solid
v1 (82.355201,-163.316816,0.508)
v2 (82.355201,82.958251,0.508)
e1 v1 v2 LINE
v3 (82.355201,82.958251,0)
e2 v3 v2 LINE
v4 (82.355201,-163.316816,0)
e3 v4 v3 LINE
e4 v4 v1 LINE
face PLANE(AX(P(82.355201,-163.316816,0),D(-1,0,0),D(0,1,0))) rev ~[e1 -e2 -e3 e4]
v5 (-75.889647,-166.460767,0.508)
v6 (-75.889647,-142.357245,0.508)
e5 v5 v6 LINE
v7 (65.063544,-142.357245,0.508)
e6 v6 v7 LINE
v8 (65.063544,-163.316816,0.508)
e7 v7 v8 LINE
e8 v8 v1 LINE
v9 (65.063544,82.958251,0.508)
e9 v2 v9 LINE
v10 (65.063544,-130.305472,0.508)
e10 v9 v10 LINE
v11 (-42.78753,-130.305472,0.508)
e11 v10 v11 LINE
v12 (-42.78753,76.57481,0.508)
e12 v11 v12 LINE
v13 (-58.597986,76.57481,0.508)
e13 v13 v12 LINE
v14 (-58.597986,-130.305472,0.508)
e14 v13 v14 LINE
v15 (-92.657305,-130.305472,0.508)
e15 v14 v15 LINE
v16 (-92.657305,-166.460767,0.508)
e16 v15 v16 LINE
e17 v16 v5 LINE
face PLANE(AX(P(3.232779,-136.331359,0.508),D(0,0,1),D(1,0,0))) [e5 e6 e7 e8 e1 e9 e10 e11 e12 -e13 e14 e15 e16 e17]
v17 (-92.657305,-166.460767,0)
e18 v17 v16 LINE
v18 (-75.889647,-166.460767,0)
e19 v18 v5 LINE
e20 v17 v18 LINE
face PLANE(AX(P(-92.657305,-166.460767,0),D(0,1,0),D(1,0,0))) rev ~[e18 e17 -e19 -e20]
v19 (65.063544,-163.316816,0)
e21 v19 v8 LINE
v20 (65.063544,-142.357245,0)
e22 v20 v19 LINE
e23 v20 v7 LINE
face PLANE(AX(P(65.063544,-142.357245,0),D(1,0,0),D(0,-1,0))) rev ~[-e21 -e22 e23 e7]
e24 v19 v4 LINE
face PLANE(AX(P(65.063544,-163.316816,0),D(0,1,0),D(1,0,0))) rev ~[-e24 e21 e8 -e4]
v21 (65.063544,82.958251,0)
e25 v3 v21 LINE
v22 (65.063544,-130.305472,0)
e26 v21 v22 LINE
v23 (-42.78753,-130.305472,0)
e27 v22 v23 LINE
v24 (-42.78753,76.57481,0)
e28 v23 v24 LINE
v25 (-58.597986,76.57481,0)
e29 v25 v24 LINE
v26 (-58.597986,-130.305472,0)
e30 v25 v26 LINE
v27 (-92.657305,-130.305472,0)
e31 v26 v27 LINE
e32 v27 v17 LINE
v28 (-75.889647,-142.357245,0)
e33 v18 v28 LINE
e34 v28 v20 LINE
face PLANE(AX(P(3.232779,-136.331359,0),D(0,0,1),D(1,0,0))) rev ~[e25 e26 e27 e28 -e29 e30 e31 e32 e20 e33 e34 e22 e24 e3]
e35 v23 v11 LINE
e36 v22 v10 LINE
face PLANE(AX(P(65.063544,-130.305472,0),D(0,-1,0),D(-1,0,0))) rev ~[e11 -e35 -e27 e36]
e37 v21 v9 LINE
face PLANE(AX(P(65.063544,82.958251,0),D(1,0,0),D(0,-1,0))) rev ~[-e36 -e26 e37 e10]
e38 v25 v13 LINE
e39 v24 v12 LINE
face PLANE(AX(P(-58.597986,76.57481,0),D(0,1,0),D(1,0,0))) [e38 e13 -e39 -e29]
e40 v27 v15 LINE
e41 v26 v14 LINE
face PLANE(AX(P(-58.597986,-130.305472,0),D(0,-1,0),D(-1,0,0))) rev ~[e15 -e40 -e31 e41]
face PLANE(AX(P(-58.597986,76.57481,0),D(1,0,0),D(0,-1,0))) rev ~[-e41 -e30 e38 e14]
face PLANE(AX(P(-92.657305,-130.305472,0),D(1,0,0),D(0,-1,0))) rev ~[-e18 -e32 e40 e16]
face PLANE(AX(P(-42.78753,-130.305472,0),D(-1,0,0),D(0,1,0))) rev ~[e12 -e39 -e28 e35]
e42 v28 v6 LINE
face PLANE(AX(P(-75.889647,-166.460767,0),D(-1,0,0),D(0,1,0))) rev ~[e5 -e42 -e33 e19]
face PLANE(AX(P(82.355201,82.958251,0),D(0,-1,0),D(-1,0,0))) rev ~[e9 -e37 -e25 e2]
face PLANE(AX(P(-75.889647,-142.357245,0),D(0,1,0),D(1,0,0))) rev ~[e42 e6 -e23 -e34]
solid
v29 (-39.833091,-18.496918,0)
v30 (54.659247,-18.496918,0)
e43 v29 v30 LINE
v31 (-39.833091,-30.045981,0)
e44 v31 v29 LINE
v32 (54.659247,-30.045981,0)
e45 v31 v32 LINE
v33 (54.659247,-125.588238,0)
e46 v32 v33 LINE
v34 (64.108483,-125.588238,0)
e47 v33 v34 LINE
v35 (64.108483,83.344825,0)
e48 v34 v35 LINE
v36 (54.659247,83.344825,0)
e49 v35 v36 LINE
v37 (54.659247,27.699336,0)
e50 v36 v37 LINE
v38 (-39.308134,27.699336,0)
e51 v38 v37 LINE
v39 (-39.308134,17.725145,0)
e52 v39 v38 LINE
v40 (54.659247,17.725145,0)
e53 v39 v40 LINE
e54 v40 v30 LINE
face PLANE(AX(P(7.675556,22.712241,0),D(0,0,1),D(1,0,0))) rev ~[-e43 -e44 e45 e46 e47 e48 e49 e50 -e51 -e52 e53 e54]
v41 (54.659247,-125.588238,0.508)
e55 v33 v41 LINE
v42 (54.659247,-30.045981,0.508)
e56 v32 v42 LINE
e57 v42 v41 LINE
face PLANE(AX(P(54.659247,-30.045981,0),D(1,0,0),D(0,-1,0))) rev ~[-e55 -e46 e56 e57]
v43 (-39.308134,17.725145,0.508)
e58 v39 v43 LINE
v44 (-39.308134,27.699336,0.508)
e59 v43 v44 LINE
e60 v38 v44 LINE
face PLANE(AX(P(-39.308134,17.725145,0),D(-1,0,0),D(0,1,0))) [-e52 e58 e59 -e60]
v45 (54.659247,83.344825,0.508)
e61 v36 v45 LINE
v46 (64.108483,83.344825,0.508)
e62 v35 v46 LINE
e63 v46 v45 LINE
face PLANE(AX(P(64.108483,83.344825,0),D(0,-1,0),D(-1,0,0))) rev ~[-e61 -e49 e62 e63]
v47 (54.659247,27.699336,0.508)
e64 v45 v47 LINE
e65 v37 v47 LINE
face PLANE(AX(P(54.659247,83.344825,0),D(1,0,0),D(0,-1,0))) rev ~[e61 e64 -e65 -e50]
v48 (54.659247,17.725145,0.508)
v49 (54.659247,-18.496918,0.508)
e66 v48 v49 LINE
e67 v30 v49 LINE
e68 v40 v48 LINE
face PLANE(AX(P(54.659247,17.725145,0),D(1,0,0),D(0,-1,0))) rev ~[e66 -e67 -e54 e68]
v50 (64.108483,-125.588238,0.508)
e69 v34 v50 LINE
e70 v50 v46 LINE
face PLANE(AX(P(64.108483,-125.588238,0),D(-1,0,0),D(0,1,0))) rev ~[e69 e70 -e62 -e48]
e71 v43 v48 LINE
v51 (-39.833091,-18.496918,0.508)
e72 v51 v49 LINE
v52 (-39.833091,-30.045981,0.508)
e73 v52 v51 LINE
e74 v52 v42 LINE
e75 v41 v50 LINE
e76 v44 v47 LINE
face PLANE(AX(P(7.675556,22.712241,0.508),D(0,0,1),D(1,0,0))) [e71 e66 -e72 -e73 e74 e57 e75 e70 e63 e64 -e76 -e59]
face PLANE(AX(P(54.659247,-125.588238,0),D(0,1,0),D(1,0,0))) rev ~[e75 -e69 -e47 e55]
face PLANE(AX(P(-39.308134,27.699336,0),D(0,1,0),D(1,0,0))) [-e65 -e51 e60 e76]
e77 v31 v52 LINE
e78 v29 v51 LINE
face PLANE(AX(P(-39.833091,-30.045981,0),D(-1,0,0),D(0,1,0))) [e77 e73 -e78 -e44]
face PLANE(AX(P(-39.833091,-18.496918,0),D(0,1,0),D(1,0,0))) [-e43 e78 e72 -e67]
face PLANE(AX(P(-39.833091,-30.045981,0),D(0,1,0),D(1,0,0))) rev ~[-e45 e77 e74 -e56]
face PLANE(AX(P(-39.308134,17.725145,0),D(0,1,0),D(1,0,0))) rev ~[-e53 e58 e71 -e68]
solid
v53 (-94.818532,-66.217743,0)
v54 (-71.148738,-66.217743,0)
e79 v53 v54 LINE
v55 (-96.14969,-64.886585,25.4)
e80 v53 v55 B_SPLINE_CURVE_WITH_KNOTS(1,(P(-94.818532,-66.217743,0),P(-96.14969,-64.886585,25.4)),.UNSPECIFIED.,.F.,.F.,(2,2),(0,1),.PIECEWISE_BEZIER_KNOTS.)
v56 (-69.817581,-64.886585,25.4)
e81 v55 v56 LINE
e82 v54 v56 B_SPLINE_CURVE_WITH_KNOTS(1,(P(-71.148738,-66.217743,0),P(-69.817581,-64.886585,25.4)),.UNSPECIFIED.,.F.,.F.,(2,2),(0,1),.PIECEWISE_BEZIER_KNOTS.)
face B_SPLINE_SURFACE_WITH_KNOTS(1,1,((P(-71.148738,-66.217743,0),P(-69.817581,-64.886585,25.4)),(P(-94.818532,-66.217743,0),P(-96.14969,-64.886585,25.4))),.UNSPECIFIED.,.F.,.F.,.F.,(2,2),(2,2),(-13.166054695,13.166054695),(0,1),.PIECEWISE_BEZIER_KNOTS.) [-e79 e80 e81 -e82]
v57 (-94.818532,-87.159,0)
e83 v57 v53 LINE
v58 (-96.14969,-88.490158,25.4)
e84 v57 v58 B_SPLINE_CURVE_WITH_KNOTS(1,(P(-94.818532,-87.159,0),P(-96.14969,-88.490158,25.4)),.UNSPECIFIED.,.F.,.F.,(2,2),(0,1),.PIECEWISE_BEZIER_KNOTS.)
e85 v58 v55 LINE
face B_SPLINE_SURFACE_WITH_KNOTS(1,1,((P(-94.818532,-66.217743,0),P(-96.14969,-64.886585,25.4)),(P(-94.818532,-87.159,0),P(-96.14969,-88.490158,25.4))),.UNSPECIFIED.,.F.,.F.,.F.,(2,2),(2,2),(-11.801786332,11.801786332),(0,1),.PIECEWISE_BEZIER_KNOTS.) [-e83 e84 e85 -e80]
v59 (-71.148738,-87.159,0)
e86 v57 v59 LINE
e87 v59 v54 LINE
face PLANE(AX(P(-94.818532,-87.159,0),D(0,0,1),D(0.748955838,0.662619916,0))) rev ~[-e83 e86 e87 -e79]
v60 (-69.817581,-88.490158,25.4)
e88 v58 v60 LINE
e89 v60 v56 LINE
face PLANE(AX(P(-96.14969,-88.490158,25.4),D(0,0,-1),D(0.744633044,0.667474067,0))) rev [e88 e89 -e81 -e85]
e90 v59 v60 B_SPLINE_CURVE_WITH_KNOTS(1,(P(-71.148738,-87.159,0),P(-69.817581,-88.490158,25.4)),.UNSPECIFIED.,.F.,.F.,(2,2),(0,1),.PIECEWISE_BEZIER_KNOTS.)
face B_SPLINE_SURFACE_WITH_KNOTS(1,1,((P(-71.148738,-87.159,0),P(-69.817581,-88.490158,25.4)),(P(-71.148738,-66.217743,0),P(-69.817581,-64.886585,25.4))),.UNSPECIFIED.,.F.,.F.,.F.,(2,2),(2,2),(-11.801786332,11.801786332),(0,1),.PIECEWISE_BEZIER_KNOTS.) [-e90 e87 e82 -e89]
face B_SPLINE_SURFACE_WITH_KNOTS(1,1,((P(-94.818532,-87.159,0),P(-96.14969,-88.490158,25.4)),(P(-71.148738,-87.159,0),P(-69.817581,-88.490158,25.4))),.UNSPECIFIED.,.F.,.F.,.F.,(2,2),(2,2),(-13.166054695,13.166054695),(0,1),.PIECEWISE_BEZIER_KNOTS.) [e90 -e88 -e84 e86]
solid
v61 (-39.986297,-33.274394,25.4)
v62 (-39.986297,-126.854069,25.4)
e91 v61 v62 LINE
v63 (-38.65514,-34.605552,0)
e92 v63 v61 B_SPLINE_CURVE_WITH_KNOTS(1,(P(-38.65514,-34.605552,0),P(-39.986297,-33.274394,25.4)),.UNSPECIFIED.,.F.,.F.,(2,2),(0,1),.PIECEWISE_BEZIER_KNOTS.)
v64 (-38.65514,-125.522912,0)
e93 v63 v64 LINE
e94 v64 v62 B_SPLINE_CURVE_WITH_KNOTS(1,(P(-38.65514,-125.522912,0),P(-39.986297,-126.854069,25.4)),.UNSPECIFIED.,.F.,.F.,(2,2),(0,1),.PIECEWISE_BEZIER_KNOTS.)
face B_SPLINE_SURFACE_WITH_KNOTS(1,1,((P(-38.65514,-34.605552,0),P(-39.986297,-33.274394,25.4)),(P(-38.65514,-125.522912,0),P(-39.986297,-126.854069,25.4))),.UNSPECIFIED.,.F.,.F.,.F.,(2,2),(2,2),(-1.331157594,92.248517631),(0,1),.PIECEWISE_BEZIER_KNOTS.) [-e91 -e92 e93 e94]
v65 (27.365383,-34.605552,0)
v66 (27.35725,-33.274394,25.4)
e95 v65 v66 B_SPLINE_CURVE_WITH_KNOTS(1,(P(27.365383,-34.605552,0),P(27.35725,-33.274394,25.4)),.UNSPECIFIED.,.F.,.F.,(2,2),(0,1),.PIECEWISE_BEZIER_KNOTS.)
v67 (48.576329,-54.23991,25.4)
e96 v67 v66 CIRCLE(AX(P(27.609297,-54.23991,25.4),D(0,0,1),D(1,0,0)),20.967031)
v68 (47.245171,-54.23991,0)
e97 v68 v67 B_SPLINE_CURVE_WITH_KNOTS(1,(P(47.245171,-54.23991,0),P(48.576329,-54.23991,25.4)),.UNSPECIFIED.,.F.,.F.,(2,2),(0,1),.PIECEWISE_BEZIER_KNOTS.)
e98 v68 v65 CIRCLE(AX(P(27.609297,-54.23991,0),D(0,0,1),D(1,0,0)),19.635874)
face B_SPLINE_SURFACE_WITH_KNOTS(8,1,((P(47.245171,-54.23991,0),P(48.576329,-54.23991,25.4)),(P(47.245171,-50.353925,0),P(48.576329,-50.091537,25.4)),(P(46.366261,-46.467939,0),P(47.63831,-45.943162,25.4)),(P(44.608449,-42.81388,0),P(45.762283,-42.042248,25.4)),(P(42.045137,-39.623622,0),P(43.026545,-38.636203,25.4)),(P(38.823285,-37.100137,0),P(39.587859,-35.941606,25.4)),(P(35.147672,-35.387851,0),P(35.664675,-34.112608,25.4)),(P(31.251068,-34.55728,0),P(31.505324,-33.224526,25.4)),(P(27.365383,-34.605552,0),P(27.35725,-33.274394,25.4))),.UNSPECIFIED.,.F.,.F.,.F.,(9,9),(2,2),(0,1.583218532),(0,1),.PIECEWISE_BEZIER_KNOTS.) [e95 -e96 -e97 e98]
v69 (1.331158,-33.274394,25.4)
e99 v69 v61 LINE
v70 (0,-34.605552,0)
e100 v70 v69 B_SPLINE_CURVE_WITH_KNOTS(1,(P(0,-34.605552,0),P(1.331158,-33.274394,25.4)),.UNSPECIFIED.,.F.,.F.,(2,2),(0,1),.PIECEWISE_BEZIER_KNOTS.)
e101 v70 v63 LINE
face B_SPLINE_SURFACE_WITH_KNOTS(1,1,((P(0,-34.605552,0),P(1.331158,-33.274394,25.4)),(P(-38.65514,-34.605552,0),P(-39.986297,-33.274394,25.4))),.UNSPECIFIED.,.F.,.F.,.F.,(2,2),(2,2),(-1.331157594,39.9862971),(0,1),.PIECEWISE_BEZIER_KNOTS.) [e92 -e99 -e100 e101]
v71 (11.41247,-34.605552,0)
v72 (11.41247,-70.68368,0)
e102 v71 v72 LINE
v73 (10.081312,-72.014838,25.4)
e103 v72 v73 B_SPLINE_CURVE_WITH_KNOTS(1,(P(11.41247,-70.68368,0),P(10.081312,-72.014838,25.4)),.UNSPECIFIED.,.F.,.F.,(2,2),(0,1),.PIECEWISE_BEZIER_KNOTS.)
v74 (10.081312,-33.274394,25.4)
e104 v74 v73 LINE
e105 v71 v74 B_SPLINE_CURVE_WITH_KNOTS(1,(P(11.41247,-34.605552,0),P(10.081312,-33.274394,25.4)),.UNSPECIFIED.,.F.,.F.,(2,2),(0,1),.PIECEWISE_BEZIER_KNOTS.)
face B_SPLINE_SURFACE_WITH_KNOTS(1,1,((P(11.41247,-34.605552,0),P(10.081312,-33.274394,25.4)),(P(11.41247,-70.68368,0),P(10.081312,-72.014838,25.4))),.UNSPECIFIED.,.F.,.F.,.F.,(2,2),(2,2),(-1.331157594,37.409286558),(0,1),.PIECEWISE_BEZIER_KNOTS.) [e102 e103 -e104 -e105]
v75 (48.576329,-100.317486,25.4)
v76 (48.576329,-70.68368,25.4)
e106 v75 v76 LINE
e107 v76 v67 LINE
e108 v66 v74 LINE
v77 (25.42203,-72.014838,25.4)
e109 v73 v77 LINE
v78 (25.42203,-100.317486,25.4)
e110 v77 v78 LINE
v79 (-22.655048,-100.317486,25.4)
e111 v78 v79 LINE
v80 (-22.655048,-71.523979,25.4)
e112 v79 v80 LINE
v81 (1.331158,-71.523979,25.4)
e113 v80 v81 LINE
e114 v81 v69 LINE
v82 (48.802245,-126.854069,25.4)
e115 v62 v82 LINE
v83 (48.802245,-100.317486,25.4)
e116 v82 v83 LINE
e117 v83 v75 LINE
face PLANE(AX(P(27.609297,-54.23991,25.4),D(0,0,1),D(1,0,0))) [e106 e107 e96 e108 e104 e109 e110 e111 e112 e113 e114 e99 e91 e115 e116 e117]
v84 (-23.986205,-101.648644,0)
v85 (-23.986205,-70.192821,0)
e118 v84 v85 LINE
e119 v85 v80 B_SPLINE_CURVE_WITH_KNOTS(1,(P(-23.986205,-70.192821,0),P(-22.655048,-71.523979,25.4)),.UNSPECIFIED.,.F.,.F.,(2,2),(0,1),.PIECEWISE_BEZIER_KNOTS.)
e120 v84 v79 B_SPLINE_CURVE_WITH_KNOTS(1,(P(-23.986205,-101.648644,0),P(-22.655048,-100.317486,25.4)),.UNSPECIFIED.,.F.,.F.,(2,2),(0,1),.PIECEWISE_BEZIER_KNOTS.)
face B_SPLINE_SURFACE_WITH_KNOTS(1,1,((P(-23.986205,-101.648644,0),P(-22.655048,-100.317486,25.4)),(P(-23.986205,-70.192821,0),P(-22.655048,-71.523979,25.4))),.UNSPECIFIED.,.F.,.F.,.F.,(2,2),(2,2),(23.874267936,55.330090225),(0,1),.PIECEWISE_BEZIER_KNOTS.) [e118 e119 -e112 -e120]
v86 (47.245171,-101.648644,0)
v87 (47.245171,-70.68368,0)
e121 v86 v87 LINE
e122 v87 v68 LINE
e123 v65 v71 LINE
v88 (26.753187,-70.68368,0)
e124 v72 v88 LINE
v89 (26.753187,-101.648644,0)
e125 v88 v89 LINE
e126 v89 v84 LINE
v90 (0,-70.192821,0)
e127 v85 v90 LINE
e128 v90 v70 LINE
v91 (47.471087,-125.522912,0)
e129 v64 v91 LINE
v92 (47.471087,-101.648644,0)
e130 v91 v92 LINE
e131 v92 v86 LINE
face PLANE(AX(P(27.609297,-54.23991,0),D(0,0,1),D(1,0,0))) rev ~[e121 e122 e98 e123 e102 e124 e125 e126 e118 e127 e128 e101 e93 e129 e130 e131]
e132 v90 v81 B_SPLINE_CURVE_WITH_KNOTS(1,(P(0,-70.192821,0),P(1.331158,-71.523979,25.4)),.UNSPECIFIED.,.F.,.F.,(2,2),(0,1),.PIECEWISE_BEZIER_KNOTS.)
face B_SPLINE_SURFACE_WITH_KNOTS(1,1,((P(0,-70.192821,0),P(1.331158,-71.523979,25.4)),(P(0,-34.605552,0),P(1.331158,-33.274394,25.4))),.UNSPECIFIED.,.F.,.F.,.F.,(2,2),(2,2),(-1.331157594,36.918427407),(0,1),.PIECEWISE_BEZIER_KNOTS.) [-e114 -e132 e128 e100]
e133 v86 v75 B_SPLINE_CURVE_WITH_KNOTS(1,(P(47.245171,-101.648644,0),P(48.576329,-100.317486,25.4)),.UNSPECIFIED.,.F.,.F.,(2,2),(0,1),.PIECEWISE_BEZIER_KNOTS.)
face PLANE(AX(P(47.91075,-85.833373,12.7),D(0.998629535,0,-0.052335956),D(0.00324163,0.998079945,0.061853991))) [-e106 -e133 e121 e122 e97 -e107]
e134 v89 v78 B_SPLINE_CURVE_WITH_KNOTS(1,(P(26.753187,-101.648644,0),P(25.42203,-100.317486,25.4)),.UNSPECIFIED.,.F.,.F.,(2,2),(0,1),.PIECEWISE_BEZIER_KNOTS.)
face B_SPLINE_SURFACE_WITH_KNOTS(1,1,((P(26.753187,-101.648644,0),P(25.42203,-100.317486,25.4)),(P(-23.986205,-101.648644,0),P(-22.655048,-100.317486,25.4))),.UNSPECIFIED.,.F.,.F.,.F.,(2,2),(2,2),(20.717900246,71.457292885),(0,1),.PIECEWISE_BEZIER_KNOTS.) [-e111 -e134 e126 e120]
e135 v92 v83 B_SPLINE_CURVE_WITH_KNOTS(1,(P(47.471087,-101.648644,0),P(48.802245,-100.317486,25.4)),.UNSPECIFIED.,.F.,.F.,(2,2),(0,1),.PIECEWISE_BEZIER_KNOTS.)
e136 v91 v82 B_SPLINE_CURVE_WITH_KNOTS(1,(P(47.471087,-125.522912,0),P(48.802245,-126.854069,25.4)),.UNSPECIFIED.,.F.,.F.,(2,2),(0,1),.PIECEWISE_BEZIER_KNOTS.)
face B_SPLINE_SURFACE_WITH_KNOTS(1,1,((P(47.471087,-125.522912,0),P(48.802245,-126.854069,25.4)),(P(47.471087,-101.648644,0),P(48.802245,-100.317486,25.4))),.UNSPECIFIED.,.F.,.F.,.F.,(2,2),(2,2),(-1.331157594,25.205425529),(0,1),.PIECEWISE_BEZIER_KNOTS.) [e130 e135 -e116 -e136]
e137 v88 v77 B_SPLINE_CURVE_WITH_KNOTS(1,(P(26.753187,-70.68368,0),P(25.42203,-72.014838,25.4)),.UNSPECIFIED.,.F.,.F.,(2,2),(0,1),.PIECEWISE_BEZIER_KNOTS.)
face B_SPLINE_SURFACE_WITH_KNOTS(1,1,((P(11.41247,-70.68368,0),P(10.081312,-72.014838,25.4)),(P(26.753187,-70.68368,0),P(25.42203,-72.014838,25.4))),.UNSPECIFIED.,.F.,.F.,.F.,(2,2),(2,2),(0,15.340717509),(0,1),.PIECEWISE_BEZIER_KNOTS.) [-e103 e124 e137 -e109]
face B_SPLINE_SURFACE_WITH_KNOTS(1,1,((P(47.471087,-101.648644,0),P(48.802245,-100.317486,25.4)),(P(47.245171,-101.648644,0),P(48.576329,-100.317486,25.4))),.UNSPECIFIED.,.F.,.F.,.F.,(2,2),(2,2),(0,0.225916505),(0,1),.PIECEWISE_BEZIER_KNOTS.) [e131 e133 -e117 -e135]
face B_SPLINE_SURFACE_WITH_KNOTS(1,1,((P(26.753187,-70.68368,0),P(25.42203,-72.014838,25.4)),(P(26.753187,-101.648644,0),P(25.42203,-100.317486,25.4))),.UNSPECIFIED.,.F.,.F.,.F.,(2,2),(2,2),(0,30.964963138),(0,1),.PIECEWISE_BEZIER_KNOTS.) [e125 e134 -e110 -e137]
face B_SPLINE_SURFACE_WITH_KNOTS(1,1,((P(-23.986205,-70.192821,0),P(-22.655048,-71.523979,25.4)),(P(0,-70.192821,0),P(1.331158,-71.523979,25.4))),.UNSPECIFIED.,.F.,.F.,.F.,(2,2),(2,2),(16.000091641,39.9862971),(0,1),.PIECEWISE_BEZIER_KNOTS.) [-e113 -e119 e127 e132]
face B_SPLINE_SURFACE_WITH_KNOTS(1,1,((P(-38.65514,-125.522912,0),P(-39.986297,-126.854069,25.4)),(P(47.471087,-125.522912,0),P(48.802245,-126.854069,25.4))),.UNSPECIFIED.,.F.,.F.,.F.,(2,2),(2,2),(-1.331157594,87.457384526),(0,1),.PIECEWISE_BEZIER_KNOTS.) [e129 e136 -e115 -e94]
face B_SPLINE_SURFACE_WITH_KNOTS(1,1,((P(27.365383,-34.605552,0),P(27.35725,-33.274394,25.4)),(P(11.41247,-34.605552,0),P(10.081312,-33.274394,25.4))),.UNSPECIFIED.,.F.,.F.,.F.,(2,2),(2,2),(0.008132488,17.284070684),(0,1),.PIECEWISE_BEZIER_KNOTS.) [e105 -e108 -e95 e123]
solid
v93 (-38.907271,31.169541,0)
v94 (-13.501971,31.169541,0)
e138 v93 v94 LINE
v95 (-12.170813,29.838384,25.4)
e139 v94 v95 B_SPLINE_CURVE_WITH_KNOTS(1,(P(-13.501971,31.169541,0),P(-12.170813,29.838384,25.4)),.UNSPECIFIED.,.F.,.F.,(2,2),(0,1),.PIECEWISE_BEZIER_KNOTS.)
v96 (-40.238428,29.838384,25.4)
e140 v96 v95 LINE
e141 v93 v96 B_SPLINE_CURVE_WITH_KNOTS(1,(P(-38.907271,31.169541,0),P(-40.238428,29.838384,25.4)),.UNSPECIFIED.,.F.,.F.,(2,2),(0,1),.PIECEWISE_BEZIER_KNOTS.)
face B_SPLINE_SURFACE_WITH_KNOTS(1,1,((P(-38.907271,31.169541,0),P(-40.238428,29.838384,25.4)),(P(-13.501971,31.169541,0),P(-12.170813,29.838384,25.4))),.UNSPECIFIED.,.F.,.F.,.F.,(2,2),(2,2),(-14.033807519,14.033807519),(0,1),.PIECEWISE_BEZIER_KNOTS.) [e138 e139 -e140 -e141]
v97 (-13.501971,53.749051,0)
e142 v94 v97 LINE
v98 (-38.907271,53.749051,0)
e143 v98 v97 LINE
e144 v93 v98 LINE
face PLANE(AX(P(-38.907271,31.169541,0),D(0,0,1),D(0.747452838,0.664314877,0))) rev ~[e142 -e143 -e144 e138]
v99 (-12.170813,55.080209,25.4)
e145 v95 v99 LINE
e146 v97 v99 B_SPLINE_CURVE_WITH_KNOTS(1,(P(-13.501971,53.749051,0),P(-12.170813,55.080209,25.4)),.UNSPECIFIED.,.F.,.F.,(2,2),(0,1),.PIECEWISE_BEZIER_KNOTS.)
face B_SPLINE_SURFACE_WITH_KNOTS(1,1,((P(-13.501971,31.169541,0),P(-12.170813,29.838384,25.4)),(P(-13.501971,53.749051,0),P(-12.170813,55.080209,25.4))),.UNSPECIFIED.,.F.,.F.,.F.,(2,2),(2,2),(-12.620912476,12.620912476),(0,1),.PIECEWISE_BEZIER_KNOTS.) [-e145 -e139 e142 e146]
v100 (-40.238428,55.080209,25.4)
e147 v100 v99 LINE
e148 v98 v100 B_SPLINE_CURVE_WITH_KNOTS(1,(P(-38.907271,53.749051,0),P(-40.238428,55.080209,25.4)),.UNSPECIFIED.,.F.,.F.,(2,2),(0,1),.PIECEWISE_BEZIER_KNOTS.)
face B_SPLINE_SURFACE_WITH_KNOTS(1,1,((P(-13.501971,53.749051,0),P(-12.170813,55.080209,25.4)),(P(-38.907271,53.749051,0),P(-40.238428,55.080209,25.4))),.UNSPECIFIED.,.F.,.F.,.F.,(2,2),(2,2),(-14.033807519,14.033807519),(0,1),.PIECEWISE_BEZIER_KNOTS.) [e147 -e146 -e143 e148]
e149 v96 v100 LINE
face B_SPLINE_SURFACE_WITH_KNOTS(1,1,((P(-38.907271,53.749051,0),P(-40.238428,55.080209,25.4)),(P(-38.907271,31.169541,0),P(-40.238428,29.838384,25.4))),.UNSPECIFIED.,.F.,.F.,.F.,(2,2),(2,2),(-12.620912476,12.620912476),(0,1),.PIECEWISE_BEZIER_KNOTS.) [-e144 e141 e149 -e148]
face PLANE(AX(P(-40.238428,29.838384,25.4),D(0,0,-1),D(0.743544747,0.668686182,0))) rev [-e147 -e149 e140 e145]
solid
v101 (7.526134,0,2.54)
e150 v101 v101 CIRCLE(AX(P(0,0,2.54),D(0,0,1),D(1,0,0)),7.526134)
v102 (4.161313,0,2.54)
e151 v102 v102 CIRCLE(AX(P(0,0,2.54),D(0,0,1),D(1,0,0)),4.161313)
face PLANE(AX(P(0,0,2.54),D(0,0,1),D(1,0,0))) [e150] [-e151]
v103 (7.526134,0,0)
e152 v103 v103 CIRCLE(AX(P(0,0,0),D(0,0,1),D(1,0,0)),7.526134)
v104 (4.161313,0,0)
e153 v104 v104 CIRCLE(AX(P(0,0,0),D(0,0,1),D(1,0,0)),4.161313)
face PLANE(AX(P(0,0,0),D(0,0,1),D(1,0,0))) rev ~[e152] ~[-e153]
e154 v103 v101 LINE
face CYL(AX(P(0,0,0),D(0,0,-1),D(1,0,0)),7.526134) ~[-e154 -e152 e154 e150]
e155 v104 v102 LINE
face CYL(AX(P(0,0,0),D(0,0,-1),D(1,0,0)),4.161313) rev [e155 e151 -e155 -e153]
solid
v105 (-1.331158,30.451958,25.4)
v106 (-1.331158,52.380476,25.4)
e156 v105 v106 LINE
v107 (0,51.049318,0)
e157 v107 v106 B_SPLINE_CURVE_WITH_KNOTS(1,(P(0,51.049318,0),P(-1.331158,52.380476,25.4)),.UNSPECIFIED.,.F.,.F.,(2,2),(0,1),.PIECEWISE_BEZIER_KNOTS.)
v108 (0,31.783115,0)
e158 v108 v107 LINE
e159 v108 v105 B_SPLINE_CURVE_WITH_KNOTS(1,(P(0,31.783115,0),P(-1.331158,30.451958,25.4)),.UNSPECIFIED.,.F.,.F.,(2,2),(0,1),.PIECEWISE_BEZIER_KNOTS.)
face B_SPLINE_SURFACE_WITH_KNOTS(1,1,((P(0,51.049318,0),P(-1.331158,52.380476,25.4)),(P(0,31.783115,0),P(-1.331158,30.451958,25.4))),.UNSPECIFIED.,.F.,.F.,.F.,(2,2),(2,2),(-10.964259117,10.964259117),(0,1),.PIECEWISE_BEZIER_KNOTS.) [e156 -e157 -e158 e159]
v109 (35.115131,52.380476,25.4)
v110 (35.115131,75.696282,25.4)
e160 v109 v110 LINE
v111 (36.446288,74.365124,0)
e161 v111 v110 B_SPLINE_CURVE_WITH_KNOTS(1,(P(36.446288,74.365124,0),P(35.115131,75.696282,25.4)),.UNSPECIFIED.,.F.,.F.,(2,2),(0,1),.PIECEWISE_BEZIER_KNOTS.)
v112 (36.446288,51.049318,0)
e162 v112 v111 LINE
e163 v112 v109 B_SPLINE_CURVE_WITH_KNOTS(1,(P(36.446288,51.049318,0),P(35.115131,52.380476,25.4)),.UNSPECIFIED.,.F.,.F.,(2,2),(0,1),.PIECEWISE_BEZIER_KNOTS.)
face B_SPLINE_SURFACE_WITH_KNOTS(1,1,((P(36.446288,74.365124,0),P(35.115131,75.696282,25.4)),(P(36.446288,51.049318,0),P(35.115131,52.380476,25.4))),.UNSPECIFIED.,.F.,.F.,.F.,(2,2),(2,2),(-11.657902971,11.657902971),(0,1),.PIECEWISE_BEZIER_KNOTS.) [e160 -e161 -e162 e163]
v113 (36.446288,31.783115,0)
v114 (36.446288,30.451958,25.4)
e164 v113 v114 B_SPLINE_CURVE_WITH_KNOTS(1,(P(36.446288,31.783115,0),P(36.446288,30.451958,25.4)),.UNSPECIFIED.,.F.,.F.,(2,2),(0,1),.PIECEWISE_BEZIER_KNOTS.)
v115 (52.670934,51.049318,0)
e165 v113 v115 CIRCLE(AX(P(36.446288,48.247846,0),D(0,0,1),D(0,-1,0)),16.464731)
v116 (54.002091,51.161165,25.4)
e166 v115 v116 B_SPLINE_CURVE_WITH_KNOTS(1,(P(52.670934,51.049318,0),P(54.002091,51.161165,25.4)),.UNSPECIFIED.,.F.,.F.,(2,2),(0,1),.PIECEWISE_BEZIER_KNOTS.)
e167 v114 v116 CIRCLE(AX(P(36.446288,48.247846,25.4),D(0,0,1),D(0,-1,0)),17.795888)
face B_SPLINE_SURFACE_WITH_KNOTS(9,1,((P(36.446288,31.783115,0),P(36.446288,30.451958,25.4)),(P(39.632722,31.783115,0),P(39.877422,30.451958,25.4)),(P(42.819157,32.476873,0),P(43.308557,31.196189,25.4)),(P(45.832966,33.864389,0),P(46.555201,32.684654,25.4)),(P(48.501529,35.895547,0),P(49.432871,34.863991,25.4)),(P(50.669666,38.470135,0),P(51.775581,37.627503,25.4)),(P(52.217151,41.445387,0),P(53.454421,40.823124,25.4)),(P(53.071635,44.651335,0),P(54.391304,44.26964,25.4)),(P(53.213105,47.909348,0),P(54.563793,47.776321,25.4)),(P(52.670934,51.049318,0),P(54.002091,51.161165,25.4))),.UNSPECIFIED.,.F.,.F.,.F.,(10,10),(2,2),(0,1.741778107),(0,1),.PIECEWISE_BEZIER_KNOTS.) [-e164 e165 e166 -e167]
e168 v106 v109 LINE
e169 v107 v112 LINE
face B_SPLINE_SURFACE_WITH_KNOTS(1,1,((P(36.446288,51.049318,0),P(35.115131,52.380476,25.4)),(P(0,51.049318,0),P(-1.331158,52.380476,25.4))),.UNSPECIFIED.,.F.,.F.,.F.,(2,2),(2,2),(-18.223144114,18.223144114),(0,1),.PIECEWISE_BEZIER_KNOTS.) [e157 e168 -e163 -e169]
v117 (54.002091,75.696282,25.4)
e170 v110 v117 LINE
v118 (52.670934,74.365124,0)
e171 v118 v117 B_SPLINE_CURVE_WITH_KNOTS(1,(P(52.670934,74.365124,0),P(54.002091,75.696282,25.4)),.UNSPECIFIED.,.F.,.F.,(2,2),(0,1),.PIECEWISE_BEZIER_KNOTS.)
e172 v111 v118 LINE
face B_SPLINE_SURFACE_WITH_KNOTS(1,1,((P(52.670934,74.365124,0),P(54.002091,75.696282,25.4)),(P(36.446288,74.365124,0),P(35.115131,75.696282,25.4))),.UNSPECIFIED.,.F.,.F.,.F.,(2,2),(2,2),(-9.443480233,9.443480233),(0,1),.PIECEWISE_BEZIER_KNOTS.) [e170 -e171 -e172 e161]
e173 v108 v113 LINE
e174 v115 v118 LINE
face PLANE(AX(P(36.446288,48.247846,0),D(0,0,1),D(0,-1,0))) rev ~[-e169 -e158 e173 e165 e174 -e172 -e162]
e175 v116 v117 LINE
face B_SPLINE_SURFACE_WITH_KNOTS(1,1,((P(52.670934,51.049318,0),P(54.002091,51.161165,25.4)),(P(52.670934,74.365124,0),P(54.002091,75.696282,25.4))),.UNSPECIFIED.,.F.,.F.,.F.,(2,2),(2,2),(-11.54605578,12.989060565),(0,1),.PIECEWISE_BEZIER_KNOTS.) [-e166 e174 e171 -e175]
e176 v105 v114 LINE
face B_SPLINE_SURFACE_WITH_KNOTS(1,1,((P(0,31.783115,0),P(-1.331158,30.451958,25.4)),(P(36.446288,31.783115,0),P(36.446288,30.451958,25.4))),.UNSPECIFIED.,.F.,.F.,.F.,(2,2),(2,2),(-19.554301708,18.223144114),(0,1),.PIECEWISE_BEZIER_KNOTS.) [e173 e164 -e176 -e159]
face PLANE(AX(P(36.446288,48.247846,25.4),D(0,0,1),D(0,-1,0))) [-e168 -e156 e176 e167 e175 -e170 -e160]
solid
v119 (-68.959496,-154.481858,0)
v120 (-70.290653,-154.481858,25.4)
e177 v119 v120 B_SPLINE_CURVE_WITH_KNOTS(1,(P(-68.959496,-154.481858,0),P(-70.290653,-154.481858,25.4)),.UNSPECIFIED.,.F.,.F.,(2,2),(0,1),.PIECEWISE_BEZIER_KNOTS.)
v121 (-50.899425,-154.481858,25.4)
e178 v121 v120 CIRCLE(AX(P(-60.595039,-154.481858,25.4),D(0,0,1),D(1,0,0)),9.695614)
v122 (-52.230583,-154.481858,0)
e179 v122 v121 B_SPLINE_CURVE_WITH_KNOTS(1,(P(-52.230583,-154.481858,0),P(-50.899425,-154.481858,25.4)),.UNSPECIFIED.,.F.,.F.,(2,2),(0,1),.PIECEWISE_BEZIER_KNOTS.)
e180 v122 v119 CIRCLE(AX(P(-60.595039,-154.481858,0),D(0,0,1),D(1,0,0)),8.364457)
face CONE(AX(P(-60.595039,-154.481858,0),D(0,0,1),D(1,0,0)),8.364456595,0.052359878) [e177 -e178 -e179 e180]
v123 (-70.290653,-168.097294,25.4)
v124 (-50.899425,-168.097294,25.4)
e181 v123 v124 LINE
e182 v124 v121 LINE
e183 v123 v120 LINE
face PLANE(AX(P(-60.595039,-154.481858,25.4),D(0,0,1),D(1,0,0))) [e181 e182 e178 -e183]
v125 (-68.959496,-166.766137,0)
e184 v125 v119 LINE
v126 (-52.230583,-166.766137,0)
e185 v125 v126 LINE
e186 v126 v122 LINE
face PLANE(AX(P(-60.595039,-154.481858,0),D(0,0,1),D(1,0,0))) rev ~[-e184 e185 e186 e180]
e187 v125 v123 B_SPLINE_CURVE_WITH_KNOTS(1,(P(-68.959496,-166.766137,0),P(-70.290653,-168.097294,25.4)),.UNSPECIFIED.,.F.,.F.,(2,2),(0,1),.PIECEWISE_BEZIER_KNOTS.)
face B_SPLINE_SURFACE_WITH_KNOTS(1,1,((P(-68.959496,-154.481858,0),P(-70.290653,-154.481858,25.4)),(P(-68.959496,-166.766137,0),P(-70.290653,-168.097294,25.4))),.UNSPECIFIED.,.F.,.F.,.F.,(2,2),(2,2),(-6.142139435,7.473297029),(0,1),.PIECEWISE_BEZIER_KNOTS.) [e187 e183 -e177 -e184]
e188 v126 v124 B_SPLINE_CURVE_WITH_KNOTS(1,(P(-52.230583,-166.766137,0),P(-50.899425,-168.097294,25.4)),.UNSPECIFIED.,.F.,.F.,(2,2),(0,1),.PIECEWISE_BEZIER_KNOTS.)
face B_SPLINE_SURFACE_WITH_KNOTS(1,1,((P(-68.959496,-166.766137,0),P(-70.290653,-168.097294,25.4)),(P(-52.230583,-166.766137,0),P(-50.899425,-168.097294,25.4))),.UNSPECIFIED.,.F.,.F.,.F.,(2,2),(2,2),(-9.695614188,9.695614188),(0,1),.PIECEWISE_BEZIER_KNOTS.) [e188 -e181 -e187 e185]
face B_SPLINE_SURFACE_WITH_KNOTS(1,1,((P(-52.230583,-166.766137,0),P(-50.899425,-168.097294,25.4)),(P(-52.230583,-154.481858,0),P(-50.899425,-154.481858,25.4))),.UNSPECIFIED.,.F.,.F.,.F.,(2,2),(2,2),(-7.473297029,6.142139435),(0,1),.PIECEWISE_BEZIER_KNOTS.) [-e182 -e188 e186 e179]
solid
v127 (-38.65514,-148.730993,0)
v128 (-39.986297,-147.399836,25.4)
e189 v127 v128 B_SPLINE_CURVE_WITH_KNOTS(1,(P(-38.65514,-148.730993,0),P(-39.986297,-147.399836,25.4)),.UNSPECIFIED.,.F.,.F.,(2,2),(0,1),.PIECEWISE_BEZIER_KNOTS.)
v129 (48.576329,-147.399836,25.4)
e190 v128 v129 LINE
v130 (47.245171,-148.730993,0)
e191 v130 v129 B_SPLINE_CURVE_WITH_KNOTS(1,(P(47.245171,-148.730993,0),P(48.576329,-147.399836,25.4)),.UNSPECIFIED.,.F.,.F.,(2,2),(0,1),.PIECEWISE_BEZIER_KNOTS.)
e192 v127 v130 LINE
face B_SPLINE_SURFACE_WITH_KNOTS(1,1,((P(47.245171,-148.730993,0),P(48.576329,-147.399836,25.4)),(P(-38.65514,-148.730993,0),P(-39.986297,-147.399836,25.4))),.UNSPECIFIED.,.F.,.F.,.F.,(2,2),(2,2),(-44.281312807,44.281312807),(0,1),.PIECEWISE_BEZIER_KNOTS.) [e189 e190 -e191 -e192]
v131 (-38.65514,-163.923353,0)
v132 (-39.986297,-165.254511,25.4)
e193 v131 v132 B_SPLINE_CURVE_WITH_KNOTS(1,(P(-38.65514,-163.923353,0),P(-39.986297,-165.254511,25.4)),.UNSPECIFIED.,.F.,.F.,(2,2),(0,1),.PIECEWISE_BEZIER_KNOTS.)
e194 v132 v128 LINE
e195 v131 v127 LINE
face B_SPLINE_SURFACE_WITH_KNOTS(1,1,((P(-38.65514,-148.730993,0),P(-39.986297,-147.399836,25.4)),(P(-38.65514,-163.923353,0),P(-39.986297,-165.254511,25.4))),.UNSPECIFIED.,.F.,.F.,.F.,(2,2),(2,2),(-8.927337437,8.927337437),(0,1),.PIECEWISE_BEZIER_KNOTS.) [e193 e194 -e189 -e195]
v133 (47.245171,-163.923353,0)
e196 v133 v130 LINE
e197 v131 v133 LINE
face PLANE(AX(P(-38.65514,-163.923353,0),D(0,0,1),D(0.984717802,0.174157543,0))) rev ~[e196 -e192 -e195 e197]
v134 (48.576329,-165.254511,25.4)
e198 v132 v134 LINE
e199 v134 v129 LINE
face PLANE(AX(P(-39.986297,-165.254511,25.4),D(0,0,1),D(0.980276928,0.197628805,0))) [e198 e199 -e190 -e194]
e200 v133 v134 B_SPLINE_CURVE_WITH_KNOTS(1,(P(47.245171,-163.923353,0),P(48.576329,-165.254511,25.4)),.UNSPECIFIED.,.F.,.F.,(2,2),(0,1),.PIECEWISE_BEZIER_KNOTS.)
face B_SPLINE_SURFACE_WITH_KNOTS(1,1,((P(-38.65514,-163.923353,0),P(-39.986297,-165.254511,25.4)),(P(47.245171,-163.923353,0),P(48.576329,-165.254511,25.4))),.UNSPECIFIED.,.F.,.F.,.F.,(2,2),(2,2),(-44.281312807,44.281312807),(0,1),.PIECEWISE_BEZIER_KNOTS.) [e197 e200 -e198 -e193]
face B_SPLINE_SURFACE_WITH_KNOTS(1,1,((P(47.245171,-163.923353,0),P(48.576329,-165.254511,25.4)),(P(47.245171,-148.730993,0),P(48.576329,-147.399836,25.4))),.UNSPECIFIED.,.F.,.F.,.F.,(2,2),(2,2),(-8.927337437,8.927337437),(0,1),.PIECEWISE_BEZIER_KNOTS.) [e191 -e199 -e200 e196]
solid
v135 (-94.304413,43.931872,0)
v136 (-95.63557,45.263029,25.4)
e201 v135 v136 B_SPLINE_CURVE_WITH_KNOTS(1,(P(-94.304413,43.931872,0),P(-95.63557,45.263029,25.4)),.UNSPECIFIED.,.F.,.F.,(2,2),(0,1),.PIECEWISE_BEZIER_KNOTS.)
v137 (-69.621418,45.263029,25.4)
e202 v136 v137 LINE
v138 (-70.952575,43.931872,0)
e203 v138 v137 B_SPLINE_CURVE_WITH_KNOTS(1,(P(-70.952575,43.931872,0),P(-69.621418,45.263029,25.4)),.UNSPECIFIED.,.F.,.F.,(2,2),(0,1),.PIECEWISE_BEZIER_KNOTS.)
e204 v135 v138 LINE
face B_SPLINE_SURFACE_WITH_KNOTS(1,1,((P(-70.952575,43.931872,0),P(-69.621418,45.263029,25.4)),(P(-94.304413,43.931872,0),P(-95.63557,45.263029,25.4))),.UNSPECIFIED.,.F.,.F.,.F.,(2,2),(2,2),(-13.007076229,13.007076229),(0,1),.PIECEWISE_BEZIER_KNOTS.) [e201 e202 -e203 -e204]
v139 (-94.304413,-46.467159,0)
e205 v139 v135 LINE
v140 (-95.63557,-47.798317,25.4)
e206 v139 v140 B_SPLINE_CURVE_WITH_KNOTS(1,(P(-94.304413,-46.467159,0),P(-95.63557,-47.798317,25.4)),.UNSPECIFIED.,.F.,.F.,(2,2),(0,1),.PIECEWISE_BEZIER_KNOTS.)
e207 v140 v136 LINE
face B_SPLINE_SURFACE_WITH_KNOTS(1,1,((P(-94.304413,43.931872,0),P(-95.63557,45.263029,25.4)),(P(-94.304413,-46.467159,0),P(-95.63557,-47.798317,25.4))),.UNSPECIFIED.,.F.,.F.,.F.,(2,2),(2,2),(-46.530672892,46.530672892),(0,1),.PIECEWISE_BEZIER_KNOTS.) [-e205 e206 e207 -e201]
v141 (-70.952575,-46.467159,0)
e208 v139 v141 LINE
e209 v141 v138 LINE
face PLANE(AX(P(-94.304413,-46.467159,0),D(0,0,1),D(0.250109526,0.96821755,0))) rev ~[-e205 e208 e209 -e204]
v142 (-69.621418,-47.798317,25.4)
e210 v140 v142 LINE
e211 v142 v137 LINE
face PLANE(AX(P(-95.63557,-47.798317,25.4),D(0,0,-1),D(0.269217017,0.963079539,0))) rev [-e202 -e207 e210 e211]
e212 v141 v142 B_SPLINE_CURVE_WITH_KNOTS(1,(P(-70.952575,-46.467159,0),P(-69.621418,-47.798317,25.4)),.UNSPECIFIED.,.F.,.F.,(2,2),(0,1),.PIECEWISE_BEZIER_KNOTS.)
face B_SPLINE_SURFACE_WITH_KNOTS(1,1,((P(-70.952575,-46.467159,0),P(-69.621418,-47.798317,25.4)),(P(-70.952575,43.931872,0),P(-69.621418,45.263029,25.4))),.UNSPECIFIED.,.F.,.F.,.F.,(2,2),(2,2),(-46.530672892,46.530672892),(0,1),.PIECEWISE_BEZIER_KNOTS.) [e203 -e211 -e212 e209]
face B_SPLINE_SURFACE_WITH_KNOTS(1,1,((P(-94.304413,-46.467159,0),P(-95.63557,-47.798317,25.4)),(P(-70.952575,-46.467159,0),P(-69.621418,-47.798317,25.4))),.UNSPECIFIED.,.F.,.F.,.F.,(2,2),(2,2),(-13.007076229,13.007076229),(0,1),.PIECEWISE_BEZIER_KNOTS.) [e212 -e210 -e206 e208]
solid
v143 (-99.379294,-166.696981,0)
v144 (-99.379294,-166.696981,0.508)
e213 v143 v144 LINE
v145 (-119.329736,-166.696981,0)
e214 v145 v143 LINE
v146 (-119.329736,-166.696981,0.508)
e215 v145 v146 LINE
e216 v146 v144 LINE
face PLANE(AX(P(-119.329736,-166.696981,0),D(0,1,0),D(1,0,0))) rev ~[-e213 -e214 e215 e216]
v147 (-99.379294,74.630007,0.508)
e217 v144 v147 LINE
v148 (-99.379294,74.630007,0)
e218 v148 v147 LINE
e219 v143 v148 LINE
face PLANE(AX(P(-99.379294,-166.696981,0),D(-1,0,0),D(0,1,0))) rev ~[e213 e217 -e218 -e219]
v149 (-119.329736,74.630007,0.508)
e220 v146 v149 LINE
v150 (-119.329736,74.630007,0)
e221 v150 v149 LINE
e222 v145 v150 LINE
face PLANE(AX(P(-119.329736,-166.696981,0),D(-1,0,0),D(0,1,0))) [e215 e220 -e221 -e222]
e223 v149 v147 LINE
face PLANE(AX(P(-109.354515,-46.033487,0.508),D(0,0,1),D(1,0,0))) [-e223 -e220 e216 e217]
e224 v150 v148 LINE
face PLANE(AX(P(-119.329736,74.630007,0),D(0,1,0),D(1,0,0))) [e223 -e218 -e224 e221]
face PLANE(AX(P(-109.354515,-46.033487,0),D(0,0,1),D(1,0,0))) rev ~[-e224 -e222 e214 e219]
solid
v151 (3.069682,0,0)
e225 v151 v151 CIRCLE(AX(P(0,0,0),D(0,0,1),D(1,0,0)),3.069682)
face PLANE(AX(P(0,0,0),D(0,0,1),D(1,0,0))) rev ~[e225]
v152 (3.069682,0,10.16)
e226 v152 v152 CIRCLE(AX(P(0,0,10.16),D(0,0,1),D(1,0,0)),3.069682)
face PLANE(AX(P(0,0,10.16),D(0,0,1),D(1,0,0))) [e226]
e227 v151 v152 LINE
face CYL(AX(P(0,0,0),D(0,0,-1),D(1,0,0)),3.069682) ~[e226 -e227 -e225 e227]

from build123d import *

# Parameters (mm, degrees)
F0_W     = 25.4052998498
F0_H     = 22.5795097649
F1_DEPTH = 25.4
F1_TAPER = -3
F0_W_2   = 16.2246452776
F0_H_2   = 23.3158059418
F0_W_3   = 36.446288228
F0_H_3   = 19.2662030458
F0_W_4   = 23.3518372697
F0_H_4   = 90.399030596
F0_W_5   = 19.8797881603
F0_H_5   = 16.4437703788
F0_W_6   = 85.900310427
F0_H_6   = 15.1923596859
F0_W_7   = 16.728913189
F0_H_7   = 12.2842788696
F0_W_8   = 23.6697942019
F0_H_8   = 20.9412574768
F2_W     = 15.8104561269
F2_H     = 206.8802822016
F2_W_2   = 16.7676582932
F2_H_2   = 24.1035223007
F3_DEPTH = 0.508
F2_W_3   = 19.9504420161
F2_H_3   = 241.3269877434
F4_R     = 7.5261335965
F4_R_2   = 4.1613128117
F6_DEPTH = 2.54
F5_R     = 3.0696818441
F7_DEPTH = 10.16
F8_W     = 93.9673818648
F8_H     = 9.9741909653
F8_W_2   = 5.2495710552
F8_W_3   = 94.4923385978
F8_H_2   = 11.5490630269
F9_DEPTH = 0.508


with BuildPart() as f1:
    # F0 (on Top) → F1 (new body)
    with BuildSketch(Plane.XY):
        with Locations((-26.2046209536, 42.4592960626)):
            Rectangle(F0_W, F0_H)
    extrude(amount=F1_DEPTH, taper=F1_TAPER)


with BuildPart() as f1b:
    # F0 (on Top) → F1, piece 2 (new body)
    with BuildSketch(Plane.XY):
        with Locations((44.5586108668, 62.7072211355)):
            Rectangle(F0_W_2, F0_H_2)
        with Locations((18.223144114, 41.4162166417)):
            Rectangle(F0_W_3, F0_H_3)
        with BuildLine():
            Line((52.6709335056, 51.0493181646), (36.446288228, 51.0493181646))
            Line((36.446288228, 51.0493181646), (36.446288228, 31.7831151187))
            ThreePointArc((36.446288228, 31.7831151187), (49.0401924498, 37.6421428767), (52.6709335056, 51.0493181646))
        make_face()
    extrude(amount=F1_DEPTH, taper=F1_TAPER)


with BuildPart() as f1c:
    # F0 (on Top) → F1, piece 3 (new body)
    with BuildSketch(Plane.XY):
        with Locations((-82.6284939685, -1.2676436454)):
            Rectangle(F0_W_4, F0_H_4)
    extrude(amount=F1_DEPTH, taper=F1_TAPER)


with BuildPart() as f1d:
    # F0 (on Top) → F1, piece 4 (new body)
    with BuildSketch(Plane.XY):
        Polygon((0, -34.605551511), (-38.6551395059, -34.605551511), (-38.6551395059, -70.1928213239), (-23.9862054586, -70.1928213239), (0, -70.1928213239), align=None)
        Polygon((-23.9862054586, -70.1928213239), (-38.6551395059, -70.1928213239), (-38.6551395059, -125.5229115486), (-23.9862054586, -125.5229115486), (-23.9862054586, -101.6486436129), align=None)
        Polygon((26.7531871796, -101.6486436129), (-23.9862054586, -101.6486436129), (-23.9862054586, -125.5229115486), (47.4710874259, -125.5229115486), (47.4710874259, -101.6486436129), (47.2451709211, -101.6486436129), align=None)
        Polygon((26.7531871796, -70.6836804748), (26.7531871796, -101.6486436129), (47.2451709211, -101.6486436129), (47.2451709211, -70.6836804748), (27.3653827608, -70.6836804748), align=None)
        Polygon((11.4124696702, -70.6836804748), (26.7531871796, -70.6836804748), (27.3653827608, -70.6836804748), (27.3653827608, -54.2399100959), (27.3653827608, -34.605551511), (11.4124696702, -34.605551511), align=None)
        with Locations((37.3052768409, -62.4617952853)):
            Rectangle(F0_W_5, F0_H_5)
        with BuildLine():
            Line((27.3653827608, -54.2399100959), (47.2451709211, -54.2399100959))
            ThreePointArc((47.2451709211, -54.2399100959), (41.407450395, -40.2692800606), (27.3653827608, -34.605551511))
            Line((27.3653827608, -34.605551511), (27.3653827608, -54.2399100959))
        make_face()
    extrude(amount=F1_DEPTH, taper=F1_TAPER)


with BuildPart() as f1e:
    # F0 (on Top) → F1, piece 5 (new body)
    with BuildSketch(Plane.XY):
        with Locations((4.2950157076, -156.3271731138)):
            Rectangle(F0_W_6, F0_H_6)
    extrude(amount=F1_DEPTH, taper=F1_TAPER)


with BuildPart() as f1f:
    # F0 (on Top) → F1, piece 6 (new body)
    with BuildSketch(Plane.XY):
        with Locations((-60.5950392783, -160.6239974499)):
            Rectangle(F0_W_7, F0_H_7)
        with BuildLine():
            Line((-68.9594958728, -154.4818580151), (-52.2305826838, -154.4818580151))
            ThreePointArc((-52.2305826838, -154.4818580151), (-60.5950392783, -146.1174014206), (-68.9594958728, -154.4818580151))
        make_face()
    extrude(amount=F1_DEPTH, taper=F1_TAPER)


with BuildPart() as f1g:
    # F0 (on Top) → F1, piece 7 (new body)
    with BuildSketch(Plane.XY):
        with Locations((-82.983635366, -76.6883715987)):
            Rectangle(F0_W_8, F0_H_8)
    extrude(amount=F1_DEPTH, taper=F1_TAPER)


with BuildPart() as f3:
    # F2 (on Top) → F3 (new body)
    with BuildSketch(Plane.XY):
        Polygon((65.0635436177, -130.3054723524), (-42.7875295281, -130.3054723524), (-58.5979856551, -130.3054723524), (-58.5979856551, -142.3572450876), (65.0635436177, -142.3572450876), align=None)
        with Locations((-50.6927575916, -26.8653312515)):
            Rectangle(F2_W, F2_H)
        Polygon((-58.5979856551, -142.3572450876), (-58.5979856551, -130.3054723524), (-92.6573053002, -130.3054723524), (-92.6573053002, -142.3572450876), (-75.889647007, -142.3572450876), align=None)
        Polygon((65.0635436177, 82.9582512379), (65.0635436177, -130.3054723524), (65.0635436177, -142.3572450876), (65.0635436177, -163.3168160915), (82.3552012444, -163.3168160915), (82.3552012444, 82.9582512379), align=None)
        with Locations((-84.2734761536, -154.409006238)):
            Rectangle(F2_W_2, F2_H_2)
    extrude(amount=F3_DEPTH)


with BuildPart() as f3b:
    # F2 (on Top) → F3, piece 2 (new body)
    with BuildSketch(Plane.XY):
        with Locations((-109.3545146286, -46.0334867239)):
            Rectangle(F2_W_3, F2_H_3)
    extrude(amount=F3_DEPTH)


with BuildPart() as f6:
    # F4 (on Top) → F6 (new body)
    with BuildSketch(Plane.XY):
        Circle(F4_R)
        Circle(F4_R_2, mode=Mode.SUBTRACT)
    extrude(amount=F6_DEPTH)


with BuildPart() as f7:
    # F5 (on Top) → F7 (new body)
    with BuildSketch(Plane.XY):
        Circle(F5_R)
    extrude(amount=F7_DEPTH)


with BuildPart() as f9:
    # F8 (on Top) → F9 (new body)
    with BuildSketch(Plane.XY):
        with Locations((7.675556466, 22.7122409269)):
            Rectangle(F8_W, F8_H)
        Polygon((54.6592473984, 83.3448246121), (54.6592473984, 27.6993364096), (59.9088184536, 27.6993364096), (59.9088184536, 17.7251454443), (54.6592473984, 17.7251454443), (54.6592473984, -18.4969175607), (59.9088184536, -18.4969175607), (59.9088184536, -30.0459805876), (54.6592473984, -30.0459805876), (54.6592473984, -125.5882382393), (64.1084834933, -125.5882382393), (64.1084834933, 83.3448246121), align=None)
        with Locations((57.284032926, 22.7122409269)):
            Rectangle(F8_W_2, F8_H)
        with Locations((7.4130780995, -24.2714490741)):
            Rectangle(F8_W_3, F8_H_2)
        with Locations((57.284032926, -24.2714490741)):
            Rectangle(F8_W_2, F8_H_2)
    extrude(amount=F9_DEPTH)


solid = Compound([f1.part, f1b.part, f1c.part, f1d.part, f1e.part, f1f.part, f1g.part, f3.part, f3b.part, f6.part, f7.part, f9.part])
